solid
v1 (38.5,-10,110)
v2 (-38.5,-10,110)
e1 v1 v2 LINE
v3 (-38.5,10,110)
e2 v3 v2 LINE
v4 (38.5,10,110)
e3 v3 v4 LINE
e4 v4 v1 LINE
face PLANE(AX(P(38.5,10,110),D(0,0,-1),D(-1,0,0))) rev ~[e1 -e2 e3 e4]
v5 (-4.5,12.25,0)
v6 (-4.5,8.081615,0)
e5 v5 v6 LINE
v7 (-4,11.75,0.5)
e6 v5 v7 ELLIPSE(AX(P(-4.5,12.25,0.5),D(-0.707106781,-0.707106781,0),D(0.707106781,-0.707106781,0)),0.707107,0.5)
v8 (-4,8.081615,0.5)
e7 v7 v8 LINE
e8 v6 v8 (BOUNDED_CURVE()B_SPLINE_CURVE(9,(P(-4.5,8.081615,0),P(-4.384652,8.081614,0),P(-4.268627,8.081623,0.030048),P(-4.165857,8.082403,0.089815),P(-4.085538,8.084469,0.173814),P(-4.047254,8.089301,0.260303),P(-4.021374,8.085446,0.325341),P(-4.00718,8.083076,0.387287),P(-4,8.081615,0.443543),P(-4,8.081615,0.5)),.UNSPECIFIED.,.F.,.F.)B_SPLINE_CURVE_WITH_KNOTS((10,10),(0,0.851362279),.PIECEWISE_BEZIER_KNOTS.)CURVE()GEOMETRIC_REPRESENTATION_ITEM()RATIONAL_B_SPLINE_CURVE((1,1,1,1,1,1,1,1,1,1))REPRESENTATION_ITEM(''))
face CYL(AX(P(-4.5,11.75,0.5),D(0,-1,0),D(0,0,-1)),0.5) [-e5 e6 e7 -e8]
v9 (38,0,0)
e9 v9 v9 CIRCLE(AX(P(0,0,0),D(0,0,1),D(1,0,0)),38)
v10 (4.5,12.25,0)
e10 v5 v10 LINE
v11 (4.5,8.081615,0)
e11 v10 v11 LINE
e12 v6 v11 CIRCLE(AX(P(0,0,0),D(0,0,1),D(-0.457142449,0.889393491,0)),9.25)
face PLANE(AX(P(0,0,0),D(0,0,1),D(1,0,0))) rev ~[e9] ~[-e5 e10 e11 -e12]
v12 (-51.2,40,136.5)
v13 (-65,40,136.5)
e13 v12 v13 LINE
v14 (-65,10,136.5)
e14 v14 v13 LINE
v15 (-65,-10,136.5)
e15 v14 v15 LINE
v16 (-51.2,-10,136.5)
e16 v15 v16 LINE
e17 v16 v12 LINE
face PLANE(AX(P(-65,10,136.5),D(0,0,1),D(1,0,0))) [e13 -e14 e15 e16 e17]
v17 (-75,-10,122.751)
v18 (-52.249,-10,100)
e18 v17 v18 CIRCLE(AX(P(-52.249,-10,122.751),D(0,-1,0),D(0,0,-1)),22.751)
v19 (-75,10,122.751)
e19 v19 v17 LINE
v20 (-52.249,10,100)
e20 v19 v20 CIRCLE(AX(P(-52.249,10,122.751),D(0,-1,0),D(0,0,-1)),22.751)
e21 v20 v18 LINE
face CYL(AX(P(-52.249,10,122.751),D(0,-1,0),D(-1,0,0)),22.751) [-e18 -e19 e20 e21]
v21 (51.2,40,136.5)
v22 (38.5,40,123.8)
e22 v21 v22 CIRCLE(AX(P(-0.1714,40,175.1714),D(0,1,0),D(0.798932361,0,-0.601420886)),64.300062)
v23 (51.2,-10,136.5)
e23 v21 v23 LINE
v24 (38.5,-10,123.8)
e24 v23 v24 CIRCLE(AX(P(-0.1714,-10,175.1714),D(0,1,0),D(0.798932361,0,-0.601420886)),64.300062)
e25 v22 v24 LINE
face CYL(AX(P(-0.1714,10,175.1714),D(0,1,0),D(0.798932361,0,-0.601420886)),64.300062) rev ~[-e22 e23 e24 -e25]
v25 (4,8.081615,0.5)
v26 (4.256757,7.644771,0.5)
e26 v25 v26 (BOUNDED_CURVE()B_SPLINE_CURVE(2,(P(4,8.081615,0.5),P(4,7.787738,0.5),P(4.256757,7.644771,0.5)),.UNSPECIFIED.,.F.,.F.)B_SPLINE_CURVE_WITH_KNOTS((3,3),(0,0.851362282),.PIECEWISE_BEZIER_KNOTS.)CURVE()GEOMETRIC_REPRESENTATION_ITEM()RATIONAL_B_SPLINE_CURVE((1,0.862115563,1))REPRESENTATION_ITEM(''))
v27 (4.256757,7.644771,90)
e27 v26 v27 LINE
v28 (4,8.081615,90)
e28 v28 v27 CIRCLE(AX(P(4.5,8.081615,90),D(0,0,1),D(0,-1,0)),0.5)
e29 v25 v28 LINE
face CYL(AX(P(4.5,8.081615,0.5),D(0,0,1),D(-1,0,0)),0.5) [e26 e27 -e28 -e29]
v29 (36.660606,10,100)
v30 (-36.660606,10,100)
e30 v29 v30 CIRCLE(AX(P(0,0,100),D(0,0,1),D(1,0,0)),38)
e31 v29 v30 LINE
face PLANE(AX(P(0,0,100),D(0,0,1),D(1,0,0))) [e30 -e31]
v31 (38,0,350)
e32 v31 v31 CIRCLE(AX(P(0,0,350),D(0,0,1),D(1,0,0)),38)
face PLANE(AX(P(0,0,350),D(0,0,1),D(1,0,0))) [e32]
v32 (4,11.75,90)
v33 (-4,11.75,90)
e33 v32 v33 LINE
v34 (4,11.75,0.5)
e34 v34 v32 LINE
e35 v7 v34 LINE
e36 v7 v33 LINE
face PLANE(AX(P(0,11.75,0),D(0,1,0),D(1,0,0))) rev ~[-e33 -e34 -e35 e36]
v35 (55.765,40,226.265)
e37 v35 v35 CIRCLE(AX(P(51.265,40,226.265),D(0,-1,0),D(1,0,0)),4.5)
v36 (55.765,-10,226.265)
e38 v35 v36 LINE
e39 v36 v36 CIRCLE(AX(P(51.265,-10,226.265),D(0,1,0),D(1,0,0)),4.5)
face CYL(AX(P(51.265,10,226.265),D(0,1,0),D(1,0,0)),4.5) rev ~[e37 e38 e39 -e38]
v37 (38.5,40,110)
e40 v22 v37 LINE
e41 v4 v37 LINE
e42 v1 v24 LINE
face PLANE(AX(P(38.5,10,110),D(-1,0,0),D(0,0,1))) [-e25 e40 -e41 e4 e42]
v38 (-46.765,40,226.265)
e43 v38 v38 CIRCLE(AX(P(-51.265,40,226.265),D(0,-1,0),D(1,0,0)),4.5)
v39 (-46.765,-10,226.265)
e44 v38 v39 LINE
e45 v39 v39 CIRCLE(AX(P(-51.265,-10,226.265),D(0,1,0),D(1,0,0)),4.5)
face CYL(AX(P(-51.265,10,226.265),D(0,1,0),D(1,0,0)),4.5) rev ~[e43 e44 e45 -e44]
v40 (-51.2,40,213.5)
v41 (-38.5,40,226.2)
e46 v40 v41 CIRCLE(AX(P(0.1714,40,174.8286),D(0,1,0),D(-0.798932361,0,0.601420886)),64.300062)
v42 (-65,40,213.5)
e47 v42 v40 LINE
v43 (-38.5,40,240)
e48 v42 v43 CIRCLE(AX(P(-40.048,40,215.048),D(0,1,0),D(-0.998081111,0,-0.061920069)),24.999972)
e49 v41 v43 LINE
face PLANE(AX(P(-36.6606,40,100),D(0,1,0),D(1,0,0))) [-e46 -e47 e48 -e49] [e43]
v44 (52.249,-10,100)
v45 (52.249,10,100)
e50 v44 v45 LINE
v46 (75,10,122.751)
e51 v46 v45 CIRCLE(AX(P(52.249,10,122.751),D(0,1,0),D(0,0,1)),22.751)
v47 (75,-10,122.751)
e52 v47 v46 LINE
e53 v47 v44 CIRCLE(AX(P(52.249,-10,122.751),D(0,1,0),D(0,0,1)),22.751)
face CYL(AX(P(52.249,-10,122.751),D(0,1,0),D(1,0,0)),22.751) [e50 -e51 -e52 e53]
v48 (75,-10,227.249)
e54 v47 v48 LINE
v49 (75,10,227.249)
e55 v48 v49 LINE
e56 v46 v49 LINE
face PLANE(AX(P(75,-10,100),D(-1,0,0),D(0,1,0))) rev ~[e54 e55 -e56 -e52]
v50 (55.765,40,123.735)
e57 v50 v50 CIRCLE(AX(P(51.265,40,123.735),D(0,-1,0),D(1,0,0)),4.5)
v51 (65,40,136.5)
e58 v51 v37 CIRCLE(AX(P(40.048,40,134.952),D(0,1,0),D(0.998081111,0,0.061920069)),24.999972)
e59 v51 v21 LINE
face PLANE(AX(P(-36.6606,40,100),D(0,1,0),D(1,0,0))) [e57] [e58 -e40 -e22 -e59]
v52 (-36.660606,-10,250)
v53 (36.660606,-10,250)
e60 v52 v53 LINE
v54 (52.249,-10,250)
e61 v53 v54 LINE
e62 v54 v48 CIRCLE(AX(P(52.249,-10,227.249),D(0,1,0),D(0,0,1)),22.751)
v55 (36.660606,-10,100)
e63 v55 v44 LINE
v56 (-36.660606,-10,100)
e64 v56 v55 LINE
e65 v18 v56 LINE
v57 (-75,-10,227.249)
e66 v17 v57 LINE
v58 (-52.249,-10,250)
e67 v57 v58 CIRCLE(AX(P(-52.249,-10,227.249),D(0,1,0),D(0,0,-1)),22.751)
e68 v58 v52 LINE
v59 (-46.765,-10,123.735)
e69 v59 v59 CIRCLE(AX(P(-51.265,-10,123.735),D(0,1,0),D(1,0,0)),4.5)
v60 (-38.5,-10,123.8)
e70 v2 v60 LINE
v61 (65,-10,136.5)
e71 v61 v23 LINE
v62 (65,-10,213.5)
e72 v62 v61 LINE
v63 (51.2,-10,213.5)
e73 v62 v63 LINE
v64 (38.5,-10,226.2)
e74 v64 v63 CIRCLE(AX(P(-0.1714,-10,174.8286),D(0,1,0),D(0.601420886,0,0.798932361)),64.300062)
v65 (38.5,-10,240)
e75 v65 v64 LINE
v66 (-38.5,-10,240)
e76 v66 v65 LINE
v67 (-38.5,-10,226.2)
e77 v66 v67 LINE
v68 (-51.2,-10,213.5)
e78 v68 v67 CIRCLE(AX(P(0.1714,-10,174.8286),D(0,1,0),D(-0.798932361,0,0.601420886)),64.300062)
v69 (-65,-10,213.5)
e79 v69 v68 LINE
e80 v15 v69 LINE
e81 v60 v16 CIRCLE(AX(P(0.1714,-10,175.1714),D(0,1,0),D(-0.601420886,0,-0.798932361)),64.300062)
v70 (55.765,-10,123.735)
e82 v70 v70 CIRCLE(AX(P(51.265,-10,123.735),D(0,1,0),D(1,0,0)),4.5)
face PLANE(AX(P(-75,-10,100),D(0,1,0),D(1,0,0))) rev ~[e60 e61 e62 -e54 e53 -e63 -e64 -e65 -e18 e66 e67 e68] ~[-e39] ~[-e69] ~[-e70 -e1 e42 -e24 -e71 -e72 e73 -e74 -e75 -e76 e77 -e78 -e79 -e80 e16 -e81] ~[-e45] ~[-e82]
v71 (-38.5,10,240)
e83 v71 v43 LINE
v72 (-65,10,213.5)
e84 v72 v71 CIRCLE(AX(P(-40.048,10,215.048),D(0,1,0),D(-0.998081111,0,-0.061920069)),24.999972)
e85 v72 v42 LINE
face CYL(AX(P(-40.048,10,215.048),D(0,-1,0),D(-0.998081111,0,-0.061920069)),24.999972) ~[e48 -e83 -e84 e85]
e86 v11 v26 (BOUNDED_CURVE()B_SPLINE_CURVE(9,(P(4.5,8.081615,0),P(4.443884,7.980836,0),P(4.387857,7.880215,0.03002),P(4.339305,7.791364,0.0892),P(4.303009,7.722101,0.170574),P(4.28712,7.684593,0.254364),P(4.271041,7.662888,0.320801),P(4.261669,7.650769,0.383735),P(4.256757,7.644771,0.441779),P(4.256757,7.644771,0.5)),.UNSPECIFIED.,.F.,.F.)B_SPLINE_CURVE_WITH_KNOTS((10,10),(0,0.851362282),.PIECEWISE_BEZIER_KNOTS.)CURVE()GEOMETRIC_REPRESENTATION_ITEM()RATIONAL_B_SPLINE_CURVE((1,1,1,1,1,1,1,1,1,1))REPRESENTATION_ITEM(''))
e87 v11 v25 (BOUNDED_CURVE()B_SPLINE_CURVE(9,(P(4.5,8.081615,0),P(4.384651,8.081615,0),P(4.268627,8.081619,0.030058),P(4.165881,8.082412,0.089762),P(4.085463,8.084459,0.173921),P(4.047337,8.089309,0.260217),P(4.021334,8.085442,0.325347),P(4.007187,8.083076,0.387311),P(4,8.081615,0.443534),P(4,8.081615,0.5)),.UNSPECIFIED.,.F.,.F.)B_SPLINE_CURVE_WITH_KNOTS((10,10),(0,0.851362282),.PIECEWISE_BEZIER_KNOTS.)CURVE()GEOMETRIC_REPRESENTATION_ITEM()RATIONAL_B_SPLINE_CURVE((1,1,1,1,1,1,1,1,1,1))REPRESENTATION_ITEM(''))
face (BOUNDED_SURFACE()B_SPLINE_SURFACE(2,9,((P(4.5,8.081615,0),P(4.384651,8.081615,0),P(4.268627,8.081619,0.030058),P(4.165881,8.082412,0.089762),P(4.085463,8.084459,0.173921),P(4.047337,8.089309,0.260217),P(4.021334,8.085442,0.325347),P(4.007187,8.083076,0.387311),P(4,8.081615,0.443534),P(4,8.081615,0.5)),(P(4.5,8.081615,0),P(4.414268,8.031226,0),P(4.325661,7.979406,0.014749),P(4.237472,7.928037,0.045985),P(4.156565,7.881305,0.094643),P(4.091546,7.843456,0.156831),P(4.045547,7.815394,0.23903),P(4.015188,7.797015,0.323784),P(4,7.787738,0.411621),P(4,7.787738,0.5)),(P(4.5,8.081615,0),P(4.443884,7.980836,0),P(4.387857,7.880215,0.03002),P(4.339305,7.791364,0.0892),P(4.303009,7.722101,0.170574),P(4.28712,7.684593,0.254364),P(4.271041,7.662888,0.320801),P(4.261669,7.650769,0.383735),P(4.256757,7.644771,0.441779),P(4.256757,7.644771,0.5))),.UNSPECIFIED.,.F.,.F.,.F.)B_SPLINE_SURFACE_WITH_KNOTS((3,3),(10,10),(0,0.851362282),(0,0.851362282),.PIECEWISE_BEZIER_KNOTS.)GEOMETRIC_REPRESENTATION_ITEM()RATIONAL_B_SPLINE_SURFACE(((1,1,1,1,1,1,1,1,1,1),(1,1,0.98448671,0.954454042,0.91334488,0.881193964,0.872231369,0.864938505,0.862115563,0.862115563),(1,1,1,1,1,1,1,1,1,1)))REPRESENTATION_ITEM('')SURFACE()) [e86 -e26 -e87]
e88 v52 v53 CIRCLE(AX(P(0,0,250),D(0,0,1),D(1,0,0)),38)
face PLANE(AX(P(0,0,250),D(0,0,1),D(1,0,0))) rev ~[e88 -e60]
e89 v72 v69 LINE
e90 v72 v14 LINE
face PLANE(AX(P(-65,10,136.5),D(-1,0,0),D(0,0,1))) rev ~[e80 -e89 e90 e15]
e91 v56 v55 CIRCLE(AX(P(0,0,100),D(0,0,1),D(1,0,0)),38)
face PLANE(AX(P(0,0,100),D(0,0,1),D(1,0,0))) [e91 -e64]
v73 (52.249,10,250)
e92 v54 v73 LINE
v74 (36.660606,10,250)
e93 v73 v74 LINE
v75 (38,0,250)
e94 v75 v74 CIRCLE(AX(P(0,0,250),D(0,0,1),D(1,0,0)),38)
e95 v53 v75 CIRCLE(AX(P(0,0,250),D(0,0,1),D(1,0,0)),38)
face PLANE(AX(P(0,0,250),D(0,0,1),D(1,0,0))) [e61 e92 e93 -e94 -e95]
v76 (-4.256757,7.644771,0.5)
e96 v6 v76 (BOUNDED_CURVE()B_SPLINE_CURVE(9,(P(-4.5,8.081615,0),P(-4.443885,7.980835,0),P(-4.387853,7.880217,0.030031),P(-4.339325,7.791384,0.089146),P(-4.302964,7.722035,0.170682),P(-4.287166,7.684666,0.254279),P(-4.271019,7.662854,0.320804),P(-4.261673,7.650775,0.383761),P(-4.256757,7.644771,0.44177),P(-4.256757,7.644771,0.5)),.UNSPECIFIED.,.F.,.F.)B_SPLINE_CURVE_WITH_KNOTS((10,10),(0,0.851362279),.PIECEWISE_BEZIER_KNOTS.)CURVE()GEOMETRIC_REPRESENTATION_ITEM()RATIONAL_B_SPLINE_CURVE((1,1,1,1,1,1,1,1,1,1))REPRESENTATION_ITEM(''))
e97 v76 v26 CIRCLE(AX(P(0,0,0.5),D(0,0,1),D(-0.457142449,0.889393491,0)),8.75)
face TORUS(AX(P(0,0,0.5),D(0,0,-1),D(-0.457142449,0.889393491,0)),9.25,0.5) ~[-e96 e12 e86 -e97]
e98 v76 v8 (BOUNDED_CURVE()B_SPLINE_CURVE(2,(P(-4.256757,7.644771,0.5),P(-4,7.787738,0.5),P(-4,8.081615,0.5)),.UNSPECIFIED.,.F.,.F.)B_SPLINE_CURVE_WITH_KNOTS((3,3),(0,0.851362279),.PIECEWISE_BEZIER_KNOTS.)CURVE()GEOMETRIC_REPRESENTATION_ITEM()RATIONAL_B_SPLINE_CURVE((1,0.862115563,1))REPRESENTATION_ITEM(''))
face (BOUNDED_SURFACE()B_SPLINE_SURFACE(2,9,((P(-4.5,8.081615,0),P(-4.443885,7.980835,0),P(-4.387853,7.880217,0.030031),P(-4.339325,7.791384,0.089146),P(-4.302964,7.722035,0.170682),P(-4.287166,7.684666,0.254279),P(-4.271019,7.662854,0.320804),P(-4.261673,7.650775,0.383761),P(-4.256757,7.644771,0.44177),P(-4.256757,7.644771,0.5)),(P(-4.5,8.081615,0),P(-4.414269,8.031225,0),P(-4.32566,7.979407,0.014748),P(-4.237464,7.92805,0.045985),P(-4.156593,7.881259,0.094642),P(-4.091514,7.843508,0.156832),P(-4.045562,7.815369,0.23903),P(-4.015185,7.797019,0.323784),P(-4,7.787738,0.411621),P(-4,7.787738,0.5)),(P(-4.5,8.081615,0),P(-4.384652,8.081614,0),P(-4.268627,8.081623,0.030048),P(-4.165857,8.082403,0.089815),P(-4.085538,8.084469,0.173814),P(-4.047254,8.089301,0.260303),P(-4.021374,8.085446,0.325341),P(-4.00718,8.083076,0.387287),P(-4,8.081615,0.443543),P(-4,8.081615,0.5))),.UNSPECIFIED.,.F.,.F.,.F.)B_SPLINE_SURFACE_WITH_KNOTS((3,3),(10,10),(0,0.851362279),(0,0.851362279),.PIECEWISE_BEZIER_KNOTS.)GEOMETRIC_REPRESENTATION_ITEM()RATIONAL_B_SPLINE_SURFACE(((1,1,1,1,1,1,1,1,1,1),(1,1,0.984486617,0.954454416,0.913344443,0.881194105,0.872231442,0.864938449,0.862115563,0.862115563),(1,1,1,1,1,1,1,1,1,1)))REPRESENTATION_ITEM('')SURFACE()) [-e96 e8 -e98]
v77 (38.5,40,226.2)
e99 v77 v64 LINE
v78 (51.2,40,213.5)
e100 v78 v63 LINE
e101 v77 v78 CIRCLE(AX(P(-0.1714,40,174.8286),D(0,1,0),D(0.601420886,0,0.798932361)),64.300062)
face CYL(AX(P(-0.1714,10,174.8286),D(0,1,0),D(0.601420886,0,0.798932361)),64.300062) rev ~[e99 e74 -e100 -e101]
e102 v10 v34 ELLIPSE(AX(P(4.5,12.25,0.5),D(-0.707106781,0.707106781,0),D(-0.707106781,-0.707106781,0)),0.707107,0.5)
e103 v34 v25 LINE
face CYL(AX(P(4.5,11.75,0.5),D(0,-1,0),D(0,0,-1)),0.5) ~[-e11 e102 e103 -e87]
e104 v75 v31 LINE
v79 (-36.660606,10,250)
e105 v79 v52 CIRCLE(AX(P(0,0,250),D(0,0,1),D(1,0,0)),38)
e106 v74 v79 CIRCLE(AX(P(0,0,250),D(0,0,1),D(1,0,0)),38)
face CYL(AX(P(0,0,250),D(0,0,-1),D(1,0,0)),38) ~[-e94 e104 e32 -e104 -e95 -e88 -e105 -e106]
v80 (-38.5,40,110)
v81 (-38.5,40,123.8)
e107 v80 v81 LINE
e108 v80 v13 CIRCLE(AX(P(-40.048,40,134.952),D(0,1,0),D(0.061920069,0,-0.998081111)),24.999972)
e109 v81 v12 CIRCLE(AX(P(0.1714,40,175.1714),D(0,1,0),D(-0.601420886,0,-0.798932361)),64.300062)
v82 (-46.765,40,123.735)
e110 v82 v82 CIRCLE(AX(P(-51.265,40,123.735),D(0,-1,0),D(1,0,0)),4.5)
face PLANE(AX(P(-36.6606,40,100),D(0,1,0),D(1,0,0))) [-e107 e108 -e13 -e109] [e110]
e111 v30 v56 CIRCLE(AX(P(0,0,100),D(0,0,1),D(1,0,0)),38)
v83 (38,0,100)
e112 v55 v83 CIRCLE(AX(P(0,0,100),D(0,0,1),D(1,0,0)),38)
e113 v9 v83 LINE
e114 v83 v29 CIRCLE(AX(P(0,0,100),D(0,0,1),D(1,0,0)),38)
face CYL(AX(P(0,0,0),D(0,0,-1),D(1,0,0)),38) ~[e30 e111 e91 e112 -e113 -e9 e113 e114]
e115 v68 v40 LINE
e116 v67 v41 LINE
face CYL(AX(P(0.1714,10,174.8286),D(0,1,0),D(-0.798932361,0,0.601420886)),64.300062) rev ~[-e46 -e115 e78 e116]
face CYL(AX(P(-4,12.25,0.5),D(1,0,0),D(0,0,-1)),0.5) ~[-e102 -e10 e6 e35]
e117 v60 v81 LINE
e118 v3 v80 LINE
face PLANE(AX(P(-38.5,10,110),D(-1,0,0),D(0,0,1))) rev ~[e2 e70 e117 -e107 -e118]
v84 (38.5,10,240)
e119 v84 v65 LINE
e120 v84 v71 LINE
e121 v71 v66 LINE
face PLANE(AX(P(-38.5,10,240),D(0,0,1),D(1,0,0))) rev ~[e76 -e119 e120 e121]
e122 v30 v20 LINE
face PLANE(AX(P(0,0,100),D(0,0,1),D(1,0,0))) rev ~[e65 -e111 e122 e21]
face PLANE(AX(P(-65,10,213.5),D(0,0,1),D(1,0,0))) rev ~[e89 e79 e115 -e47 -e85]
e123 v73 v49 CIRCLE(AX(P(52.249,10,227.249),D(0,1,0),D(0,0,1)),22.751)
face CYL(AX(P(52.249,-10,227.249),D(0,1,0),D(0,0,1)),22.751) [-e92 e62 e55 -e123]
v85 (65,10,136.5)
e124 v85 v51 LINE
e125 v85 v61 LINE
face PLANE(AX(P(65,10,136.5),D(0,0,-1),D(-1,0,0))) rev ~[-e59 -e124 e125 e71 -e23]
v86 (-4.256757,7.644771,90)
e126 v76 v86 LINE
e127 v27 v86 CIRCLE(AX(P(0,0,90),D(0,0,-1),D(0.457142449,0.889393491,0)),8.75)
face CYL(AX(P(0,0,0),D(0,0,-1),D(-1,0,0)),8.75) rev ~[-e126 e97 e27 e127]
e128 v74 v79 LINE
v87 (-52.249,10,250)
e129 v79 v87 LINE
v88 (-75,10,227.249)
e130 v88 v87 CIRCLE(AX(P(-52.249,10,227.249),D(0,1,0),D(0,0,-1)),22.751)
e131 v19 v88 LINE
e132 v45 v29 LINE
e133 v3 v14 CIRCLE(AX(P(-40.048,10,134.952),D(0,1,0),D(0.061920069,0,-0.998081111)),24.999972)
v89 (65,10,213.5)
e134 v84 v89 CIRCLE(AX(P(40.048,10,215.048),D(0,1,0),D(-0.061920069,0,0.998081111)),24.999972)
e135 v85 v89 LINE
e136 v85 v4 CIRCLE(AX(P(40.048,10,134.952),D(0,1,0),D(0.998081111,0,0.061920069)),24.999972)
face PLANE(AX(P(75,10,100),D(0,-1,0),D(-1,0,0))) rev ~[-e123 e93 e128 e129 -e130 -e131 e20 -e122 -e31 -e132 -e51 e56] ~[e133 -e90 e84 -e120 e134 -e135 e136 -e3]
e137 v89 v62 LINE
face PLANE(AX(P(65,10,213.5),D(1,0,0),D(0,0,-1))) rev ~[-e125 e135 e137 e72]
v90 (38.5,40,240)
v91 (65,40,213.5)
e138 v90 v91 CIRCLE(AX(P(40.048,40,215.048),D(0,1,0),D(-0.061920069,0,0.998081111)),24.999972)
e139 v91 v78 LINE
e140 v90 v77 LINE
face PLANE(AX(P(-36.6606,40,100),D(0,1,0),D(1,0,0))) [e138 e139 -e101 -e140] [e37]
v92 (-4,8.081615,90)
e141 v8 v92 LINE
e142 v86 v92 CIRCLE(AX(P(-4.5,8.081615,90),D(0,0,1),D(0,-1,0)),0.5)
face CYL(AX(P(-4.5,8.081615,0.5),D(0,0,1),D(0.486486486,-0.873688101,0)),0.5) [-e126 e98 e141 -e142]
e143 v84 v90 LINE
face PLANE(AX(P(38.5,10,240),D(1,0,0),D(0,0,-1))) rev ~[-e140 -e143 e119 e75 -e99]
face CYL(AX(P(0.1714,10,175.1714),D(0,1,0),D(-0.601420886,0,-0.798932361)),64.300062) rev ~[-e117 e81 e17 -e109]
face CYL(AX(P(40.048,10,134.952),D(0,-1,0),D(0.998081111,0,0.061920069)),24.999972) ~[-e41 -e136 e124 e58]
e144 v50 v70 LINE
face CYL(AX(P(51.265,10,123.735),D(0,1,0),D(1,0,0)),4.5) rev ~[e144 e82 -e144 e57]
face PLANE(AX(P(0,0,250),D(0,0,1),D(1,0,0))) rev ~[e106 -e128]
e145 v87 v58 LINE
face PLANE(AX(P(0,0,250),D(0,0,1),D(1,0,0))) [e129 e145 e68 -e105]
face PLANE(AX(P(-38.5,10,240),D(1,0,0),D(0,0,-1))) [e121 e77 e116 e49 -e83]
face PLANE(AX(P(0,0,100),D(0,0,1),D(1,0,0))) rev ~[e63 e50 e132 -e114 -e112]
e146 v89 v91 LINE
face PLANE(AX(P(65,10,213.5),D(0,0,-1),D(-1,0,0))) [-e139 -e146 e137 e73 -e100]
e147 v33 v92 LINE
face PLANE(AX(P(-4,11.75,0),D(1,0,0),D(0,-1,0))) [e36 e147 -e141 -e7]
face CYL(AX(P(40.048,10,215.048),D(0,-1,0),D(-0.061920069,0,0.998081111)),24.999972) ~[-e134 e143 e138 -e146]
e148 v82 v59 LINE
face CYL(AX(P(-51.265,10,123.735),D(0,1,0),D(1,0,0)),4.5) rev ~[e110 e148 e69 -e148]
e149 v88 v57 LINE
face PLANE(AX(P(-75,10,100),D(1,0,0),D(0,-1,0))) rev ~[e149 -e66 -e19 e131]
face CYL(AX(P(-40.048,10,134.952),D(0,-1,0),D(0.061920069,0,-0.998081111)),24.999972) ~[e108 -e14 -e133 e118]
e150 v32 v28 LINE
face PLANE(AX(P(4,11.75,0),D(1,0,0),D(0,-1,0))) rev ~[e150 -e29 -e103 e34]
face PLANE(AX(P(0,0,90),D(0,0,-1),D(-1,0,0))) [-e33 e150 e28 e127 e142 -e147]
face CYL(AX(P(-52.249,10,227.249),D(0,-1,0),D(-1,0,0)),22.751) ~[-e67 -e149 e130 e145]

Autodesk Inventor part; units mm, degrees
ref_plane "YZ Plane" through (0, 0, 0) normal (1, 0, 0) x (0, 1, 0)
ref_plane "XZ Plane" through (0, 0, 0) normal (0, 1, 0) x (-1, 0, 0)
ref_plane "XY Plane" through (0, 0, 0) normal (0, 0, 1) x (1, 0, 0)
sketch "Sketch1" plane through (0, 0, 0) normal (0, 0, 1) x (1, 0, 0)
  circle A0 centre (0, 0) radius 38
  dimension "d0" = 76
extrude "Extrusion1" add sketch "Sketch1" along normal blind 100
sketch "Sketch2" plane through (0, 0, 0) normal (0, 0, -1) x (-1, 0, 0)
  circle A0 centre (0, 0) radius 8.75
  line L0 (0, 8.75) -> (0, 11.75)
  line L1 (0, 11.75) -> (4, 11.75)
  line L2 (4, 11.75) -> (-4, 11.75)
  line L3 (-4, 11.75) -> (-4, 7.7822)
  line L4 (4, 11.75) -> (4, 7.7822)
  dimension "d3" = 17.5
  dimension "d5" = 3
  dimension "d6" = 4
  dimension "d7" = 8
  dimension "d8" = 3.9678
  dimension "d9" = 3.9678
extrude "Extrusion2" cut sketch "Sketch2" against normal blind 90
fillet "Fillet1" radius 0.5 4 edges at (4, 9.7661, 0) (0, 11.75, 0) (-4, 9.7661, 0) (0, -8.75, 0)
fillet "Fillet2" radius 0.5 4 edges at (-4, 7.7822, 45.25) (-4.1498, 7.8731, 0.1431) (4, 7.7822, 45.25) (4.1498, 7.8731, 0.1431)
sketch "Sketch5" plane through (0, 0, 100) normal (0, 0, 1) x (1, 0, 0)
  line L0 (-75, -10) -> (75, -10)
  line L1 (75, -10) -> (75, 10)
  line L2 (75, 10) -> (-75, 10)
  line L3 (-75, 10) -> (-75, -10)
  line L4 (-75, -10) -> (75, 10) construction
  line L5 (75, -10) -> (-75, 10) construction
  point P0 (0, 0)
  dimension "d32" = 150
  dimension "d33" = 20
extrude "Extrusion5" add sketch "Sketch5" along normal blind 150
fillet "Fillet6" radius 22.751 4 edges at (-75, 0, 250) (75, 0, 250) (75, 0, 100) (-75, 0, 100)
sketch "Sketch8" plane through (0, 0, 250) normal (0, 0, 1) x (1, 0, 0)
  circle A0 centre (0, 0) radius 38
extrude "Extrusion8" add sketch "Sketch8" along normal blind 100
sketch "Sketch11" plane through (-36.6606, 10, 100) normal (0, 1, 0) x (1, 0, 0)
  line L0 (-28.3394, -140) -> (101.6606, -140)
  line L1 (101.6606, -140) -> (101.6606, -10)
  line L2 (101.6606, -10) -> (-28.3394, -10)
  line L3 (-28.3394, -10) -> (-28.3394, -140)
  line L4 (-28.3394, -140) -> (101.6606, -10) construction
  line L5 (101.6606, -140) -> (-28.3394, -10) construction
  line L6 (-38.3394, -22.751) -> (-38.3394, -127.249) projected
  line L7 (0, -150) -> (73.3212, -150) projected
  line L8 (-38.3394, -127.249) -> (-28.3394, -127.249)
  line L9 (-15.5884, -150) -> (0, -150) projected
  line L10 (-15.5884, -150) -> (-15.5884, -140)
  line L11 (-38.3394, -22.751) -> (-38.3394, -127.249) projected
  line L12 (-38.3394, -22.751) -> (-28.3394, -22.751)
  arc A0 (-15.5884, 0) -> (-38.3394, -22.751) centre (-15.5884, -22.751) ccw projected
  line L13 (-15.5884, 0) -> (-15.5884, -10)
  line L14 (88.9096, 0) -> (73.3212, 0) projected
  line L15 (88.9096, 0) -> (88.9096, -10)
  arc A1 (111.6606, -22.751) -> (88.9096, 0) centre (88.9096, -22.751) ccw projected
  line L16 (111.6606, -22.751) -> (101.6606, -22.751)
  line L17 (73.3212, -150) -> (88.9096, -150) projected
  line L18 (88.9096, -150) -> (88.9096, -140)
  line L19 (111.6606, -22.751) -> (111.6606, -127.249) projected
  line L20 (111.6606, -127.249) -> (101.6606, -127.249)
  line L21 (-28.3394, -75) -> (-28.3394, -36.5)
  line L22 (-28.3394, -75) -> (-28.3394, -113.5)
  line L23 (-28.3394, -36.5) -> (-14.5394, -36.5)
  line L24 (36.6606, -10) -> (-1.8394, -10)
  line L25 (36.6606, -10) -> (75.1606, -10)
  line L26 (-1.8394, -10) -> (-1.8394, -23.8)
  arc A2 (-1.8394, -23.8) -> (-14.5394, -36.5) centre (36.832, -75.1714) ccw
  line L27 (36.6606, -140) -> (-1.8394, -140)
  line L28 (36.6606, -140) -> (75.1606, -140)
  line L29 (101.6606, -75) -> (101.6606, -113.5)
  line L30 (101.6606, -75) -> (101.6606, -36.5)
  line L31 (36.6606, -10) -> (75.1606, -10)
  line L32 (-28.3394, -113.5) -> (-14.5394, -113.5)
  line L33 (-1.8394, -140) -> (-1.8394, -126.2)
  line L34 (75.1606, -140) -> (75.1606, -126.2)
  line L35 (101.6606, -113.5) -> (87.8606, -113.5)
  line L36 (101.6606, -36.5) -> (87.8606, -36.5)
  line L37 (75.1606, -10) -> (75.1606, -23.8)
  arc A3 (75.1606, -126.2) -> (87.8606, -113.5) centre (36.4892, -74.8286) ccw
  arc A4 (-14.5394, -113.5) -> (-1.8394, -126.2) centre (36.832, -74.8286) ccw
  arc A5 (87.8606, -36.5) -> (75.1606, -23.8) centre (36.4892, -75.1714) ccw
  point P0 (36.6606, 100)
  point P1 (36.6606, -75)
  dimension "d72" = 130
  dimension "d73" = 130
  dimension "d74" = 75
  dimension "d75" = 75
  dimension "d84" = 38.5
  dimension "d85" = 38.5
  dimension "d86" = 13.8
  dimension "d87" = 38.5
  dimension "d88" = 38.5
  dimension "d89" = 13.8
  dimension "d90" = 64.3
  dimension "d96" = 38.5
  dimension "d97" = 38.5
  dimension "d98" = 38.5
  dimension "d99" = 38.5
  dimension "d100" = 13.8
  dimension "d101" = 13.8
  dimension "d102" = 13.8
  dimension "d103" = 13.8
  dimension "d104" = 13.8
  dimension "d105" = 13.8
  dimension "d106" = 64.3
  dimension "d107" = 64.3
  dimension "d108" = 64.3
extrude "Extrusion10" cut sketch "Sketch11" against normal blind 20 contours L33 A4 L32 L3 L23 A2 L26 L2 L37 A5 L36 L1 L35 A3 L34 L0
sketch "Sketch12" plane through (-36.6606, 10, 100) normal (0, 1, 0) x (1, 0, 0)
  circle A0 centre (-14.6044, -23.735) radius 4.5
  line L0 (-28.3394, -36.5) -> (-14.5394, -36.5) projected
  line L1 (-28.3394, -113.5) -> (-28.3394, -36.5) projected
  circle A1 centre (-14.6044, -126.265) radius 4.5
  circle A2 centre (87.9256, -126.265) radius 4.5
  circle A3 centre (87.9256, -23.735) radius 4.5
  line L2 (-14.5394, -113.5) -> (-28.3394, -113.5) projected
  line L3 (101.6606, -113.5) -> (87.8606, -113.5) projected
  line L4 (101.6606, -36.5) -> (101.6606, -113.5) projected
  line L5 (87.8606, -36.5) -> (101.6606, -36.5) projected
  point P0 (36.6606, 100)
  point P1 (-28.3394, -127.249)
  dimension "d91" = 9
  dimension "d92" = 12.765
  dimension "d93" = 13.735
  dimension "d109" = 9
  dimension "d110" = 9
  dimension "d111" = 9
  dimension "d112" = 12.765
  dimension "d113" = 13.735
  dimension "d114" = 12.765
  dimension "d115" = 13.735
  dimension "d116" = 13.735
  dimension "d117" = 12.765
extrude "Extrusion11" cut sketch "Sketch12" along normal mid plane 50
sketch "Sketch13" plane through (-36.6606, 10, 100) normal (0, 1, 0) x (1, 0, 0)
  line L0 (-28.3394, -113.5) -> (-28.3394, -36.5) projected
  line L1 (75.1606, -140) -> (-1.8394, -140) projected
  arc A0 (-28.3394, -113.5) -> (-1.8394, -140) centre (-3.3874, -115.048) ccw
  line L2 (-1.8394, -10) -> (-1.8394, -23.8) projected
  arc A1 (-1.8394, -10) -> (-28.3394, -36.5) centre (-3.3874, -34.952) ccw
  line L3 (101.6606, -113.5) -> (101.6606, -36.5) projected
  arc A2 (75.1606, -140) -> (101.6606, -113.5) centre (76.7086, -115.048) ccw
  line L4 (101.6606, -36.5) -> (87.8606, -36.5) projected
  line L5 (75.1606, -23.8) -> (75.1606, -10) projected
  arc A3 (101.6606, -36.5) -> (75.1606, -10) centre (76.7086, -34.952) ccw
  line L6 (-1.8394, -126.2) -> (-1.8394, -140) projected
  line L7 (-1.8394, -140) -> (-1.8394, -126.2)
  arc A4 (-14.5394, -113.5) -> (-1.8394, -126.2) centre (36.832, -74.8286) ccw projected
  line L8 (-28.3394, -113.5) -> (-14.5394, -113.5)
  arc A5 (-14.5394, -113.5) -> (-1.8394, -126.2) centre (36.832, -74.8286) ccw
  line L9 (-14.5394, -36.5) -> (-28.3394, -36.5) projected
  line L10 (-28.3394, -36.5) -> (-14.5394, -36.5)
  line L11 (-1.8394, -10) -> (-1.8394, -23.8)
  line L12 (75.1606, -10) -> (75.1606, -23.8)
  line L13 (87.8606, -36.5) -> (101.6606, -36.5)
  line L14 (101.6606, -113.5) -> (87.8606, -113.5) projected
  line L15 (87.8606, -113.5) -> (101.6606, -113.5)
  arc A6 (-1.8394, -23.8) -> (-14.5394, -36.5) centre (36.832, -75.1714) ccw projected
  arc A7 (-1.8394, -23.8) -> (-14.5394, -36.5) centre (36.832, -75.1714) ccw
  arc A8 (87.8606, -36.5) -> (75.1606, -23.8) centre (36.4892, -75.1714) ccw
  line L16 (75.1606, -140) -> (75.1606, -126.2) projected
  line L17 (75.1606, -140) -> (75.1606, -126.2)
  arc A9 (75.1606, -126.2) -> (87.8606, -113.5) centre (36.4892, -74.8286) ccw projected
  arc A10 (75.1606, -126.2) -> (87.8606, -113.5) centre (36.4892, -74.8286) ccw
  point P0 (36.6606, 100)
  dimension "d118" = 25
  dimension "d119" = 25
  dimension "d120" = 25
  dimension "d121" = 25
  dimension "d122" = 64.3
  dimension "d125" = 64.3
  dimension "d126" = 64.3
  dimension "d127" = 64.3
extrude "Extrusion12" add sketch "Sketch13" along normal blind 30
sketch "Sketch14" plane through (-36.6606, -10, 100) normal (0, -1, 0) x (1, 0, 0)
  circle A0 centre (-14.6044, 23.735) radius 4.5 projected
  circle A1 centre (-14.6044, 23.735) radius 4.5
  circle A2 centre (-14.6044, 126.265) radius 4.5 projected
  circle A3 centre (-14.6044, 126.265) radius 4.5
  circle A4 centre (87.9256, 126.265) radius 4.5 projected
  circle A5 centre (87.9256, 126.265) radius 4.5
  circle A6 centre (87.9256, 23.735) radius 4.5 projected
  circle A7 centre (87.9256, 23.735) radius 4.5
  point P0 (36.6606, -100)
  dimension "d130" = 9
  dimension "d131" = 9
  dimension "d132" = 9
  dimension "d133" = 9
extrude "Extrusion13" cut sketch "Sketch14" against normal blind 100
equation "\"d112\" = d92"
equation "\"d113\" = d93"
equation "\"d114\" = d112"
equation "\"d115\" = d113"
equation "\"d116\" = d115"
equation "\"d117\" = d114"
properties part number "FrontPlateV2"
